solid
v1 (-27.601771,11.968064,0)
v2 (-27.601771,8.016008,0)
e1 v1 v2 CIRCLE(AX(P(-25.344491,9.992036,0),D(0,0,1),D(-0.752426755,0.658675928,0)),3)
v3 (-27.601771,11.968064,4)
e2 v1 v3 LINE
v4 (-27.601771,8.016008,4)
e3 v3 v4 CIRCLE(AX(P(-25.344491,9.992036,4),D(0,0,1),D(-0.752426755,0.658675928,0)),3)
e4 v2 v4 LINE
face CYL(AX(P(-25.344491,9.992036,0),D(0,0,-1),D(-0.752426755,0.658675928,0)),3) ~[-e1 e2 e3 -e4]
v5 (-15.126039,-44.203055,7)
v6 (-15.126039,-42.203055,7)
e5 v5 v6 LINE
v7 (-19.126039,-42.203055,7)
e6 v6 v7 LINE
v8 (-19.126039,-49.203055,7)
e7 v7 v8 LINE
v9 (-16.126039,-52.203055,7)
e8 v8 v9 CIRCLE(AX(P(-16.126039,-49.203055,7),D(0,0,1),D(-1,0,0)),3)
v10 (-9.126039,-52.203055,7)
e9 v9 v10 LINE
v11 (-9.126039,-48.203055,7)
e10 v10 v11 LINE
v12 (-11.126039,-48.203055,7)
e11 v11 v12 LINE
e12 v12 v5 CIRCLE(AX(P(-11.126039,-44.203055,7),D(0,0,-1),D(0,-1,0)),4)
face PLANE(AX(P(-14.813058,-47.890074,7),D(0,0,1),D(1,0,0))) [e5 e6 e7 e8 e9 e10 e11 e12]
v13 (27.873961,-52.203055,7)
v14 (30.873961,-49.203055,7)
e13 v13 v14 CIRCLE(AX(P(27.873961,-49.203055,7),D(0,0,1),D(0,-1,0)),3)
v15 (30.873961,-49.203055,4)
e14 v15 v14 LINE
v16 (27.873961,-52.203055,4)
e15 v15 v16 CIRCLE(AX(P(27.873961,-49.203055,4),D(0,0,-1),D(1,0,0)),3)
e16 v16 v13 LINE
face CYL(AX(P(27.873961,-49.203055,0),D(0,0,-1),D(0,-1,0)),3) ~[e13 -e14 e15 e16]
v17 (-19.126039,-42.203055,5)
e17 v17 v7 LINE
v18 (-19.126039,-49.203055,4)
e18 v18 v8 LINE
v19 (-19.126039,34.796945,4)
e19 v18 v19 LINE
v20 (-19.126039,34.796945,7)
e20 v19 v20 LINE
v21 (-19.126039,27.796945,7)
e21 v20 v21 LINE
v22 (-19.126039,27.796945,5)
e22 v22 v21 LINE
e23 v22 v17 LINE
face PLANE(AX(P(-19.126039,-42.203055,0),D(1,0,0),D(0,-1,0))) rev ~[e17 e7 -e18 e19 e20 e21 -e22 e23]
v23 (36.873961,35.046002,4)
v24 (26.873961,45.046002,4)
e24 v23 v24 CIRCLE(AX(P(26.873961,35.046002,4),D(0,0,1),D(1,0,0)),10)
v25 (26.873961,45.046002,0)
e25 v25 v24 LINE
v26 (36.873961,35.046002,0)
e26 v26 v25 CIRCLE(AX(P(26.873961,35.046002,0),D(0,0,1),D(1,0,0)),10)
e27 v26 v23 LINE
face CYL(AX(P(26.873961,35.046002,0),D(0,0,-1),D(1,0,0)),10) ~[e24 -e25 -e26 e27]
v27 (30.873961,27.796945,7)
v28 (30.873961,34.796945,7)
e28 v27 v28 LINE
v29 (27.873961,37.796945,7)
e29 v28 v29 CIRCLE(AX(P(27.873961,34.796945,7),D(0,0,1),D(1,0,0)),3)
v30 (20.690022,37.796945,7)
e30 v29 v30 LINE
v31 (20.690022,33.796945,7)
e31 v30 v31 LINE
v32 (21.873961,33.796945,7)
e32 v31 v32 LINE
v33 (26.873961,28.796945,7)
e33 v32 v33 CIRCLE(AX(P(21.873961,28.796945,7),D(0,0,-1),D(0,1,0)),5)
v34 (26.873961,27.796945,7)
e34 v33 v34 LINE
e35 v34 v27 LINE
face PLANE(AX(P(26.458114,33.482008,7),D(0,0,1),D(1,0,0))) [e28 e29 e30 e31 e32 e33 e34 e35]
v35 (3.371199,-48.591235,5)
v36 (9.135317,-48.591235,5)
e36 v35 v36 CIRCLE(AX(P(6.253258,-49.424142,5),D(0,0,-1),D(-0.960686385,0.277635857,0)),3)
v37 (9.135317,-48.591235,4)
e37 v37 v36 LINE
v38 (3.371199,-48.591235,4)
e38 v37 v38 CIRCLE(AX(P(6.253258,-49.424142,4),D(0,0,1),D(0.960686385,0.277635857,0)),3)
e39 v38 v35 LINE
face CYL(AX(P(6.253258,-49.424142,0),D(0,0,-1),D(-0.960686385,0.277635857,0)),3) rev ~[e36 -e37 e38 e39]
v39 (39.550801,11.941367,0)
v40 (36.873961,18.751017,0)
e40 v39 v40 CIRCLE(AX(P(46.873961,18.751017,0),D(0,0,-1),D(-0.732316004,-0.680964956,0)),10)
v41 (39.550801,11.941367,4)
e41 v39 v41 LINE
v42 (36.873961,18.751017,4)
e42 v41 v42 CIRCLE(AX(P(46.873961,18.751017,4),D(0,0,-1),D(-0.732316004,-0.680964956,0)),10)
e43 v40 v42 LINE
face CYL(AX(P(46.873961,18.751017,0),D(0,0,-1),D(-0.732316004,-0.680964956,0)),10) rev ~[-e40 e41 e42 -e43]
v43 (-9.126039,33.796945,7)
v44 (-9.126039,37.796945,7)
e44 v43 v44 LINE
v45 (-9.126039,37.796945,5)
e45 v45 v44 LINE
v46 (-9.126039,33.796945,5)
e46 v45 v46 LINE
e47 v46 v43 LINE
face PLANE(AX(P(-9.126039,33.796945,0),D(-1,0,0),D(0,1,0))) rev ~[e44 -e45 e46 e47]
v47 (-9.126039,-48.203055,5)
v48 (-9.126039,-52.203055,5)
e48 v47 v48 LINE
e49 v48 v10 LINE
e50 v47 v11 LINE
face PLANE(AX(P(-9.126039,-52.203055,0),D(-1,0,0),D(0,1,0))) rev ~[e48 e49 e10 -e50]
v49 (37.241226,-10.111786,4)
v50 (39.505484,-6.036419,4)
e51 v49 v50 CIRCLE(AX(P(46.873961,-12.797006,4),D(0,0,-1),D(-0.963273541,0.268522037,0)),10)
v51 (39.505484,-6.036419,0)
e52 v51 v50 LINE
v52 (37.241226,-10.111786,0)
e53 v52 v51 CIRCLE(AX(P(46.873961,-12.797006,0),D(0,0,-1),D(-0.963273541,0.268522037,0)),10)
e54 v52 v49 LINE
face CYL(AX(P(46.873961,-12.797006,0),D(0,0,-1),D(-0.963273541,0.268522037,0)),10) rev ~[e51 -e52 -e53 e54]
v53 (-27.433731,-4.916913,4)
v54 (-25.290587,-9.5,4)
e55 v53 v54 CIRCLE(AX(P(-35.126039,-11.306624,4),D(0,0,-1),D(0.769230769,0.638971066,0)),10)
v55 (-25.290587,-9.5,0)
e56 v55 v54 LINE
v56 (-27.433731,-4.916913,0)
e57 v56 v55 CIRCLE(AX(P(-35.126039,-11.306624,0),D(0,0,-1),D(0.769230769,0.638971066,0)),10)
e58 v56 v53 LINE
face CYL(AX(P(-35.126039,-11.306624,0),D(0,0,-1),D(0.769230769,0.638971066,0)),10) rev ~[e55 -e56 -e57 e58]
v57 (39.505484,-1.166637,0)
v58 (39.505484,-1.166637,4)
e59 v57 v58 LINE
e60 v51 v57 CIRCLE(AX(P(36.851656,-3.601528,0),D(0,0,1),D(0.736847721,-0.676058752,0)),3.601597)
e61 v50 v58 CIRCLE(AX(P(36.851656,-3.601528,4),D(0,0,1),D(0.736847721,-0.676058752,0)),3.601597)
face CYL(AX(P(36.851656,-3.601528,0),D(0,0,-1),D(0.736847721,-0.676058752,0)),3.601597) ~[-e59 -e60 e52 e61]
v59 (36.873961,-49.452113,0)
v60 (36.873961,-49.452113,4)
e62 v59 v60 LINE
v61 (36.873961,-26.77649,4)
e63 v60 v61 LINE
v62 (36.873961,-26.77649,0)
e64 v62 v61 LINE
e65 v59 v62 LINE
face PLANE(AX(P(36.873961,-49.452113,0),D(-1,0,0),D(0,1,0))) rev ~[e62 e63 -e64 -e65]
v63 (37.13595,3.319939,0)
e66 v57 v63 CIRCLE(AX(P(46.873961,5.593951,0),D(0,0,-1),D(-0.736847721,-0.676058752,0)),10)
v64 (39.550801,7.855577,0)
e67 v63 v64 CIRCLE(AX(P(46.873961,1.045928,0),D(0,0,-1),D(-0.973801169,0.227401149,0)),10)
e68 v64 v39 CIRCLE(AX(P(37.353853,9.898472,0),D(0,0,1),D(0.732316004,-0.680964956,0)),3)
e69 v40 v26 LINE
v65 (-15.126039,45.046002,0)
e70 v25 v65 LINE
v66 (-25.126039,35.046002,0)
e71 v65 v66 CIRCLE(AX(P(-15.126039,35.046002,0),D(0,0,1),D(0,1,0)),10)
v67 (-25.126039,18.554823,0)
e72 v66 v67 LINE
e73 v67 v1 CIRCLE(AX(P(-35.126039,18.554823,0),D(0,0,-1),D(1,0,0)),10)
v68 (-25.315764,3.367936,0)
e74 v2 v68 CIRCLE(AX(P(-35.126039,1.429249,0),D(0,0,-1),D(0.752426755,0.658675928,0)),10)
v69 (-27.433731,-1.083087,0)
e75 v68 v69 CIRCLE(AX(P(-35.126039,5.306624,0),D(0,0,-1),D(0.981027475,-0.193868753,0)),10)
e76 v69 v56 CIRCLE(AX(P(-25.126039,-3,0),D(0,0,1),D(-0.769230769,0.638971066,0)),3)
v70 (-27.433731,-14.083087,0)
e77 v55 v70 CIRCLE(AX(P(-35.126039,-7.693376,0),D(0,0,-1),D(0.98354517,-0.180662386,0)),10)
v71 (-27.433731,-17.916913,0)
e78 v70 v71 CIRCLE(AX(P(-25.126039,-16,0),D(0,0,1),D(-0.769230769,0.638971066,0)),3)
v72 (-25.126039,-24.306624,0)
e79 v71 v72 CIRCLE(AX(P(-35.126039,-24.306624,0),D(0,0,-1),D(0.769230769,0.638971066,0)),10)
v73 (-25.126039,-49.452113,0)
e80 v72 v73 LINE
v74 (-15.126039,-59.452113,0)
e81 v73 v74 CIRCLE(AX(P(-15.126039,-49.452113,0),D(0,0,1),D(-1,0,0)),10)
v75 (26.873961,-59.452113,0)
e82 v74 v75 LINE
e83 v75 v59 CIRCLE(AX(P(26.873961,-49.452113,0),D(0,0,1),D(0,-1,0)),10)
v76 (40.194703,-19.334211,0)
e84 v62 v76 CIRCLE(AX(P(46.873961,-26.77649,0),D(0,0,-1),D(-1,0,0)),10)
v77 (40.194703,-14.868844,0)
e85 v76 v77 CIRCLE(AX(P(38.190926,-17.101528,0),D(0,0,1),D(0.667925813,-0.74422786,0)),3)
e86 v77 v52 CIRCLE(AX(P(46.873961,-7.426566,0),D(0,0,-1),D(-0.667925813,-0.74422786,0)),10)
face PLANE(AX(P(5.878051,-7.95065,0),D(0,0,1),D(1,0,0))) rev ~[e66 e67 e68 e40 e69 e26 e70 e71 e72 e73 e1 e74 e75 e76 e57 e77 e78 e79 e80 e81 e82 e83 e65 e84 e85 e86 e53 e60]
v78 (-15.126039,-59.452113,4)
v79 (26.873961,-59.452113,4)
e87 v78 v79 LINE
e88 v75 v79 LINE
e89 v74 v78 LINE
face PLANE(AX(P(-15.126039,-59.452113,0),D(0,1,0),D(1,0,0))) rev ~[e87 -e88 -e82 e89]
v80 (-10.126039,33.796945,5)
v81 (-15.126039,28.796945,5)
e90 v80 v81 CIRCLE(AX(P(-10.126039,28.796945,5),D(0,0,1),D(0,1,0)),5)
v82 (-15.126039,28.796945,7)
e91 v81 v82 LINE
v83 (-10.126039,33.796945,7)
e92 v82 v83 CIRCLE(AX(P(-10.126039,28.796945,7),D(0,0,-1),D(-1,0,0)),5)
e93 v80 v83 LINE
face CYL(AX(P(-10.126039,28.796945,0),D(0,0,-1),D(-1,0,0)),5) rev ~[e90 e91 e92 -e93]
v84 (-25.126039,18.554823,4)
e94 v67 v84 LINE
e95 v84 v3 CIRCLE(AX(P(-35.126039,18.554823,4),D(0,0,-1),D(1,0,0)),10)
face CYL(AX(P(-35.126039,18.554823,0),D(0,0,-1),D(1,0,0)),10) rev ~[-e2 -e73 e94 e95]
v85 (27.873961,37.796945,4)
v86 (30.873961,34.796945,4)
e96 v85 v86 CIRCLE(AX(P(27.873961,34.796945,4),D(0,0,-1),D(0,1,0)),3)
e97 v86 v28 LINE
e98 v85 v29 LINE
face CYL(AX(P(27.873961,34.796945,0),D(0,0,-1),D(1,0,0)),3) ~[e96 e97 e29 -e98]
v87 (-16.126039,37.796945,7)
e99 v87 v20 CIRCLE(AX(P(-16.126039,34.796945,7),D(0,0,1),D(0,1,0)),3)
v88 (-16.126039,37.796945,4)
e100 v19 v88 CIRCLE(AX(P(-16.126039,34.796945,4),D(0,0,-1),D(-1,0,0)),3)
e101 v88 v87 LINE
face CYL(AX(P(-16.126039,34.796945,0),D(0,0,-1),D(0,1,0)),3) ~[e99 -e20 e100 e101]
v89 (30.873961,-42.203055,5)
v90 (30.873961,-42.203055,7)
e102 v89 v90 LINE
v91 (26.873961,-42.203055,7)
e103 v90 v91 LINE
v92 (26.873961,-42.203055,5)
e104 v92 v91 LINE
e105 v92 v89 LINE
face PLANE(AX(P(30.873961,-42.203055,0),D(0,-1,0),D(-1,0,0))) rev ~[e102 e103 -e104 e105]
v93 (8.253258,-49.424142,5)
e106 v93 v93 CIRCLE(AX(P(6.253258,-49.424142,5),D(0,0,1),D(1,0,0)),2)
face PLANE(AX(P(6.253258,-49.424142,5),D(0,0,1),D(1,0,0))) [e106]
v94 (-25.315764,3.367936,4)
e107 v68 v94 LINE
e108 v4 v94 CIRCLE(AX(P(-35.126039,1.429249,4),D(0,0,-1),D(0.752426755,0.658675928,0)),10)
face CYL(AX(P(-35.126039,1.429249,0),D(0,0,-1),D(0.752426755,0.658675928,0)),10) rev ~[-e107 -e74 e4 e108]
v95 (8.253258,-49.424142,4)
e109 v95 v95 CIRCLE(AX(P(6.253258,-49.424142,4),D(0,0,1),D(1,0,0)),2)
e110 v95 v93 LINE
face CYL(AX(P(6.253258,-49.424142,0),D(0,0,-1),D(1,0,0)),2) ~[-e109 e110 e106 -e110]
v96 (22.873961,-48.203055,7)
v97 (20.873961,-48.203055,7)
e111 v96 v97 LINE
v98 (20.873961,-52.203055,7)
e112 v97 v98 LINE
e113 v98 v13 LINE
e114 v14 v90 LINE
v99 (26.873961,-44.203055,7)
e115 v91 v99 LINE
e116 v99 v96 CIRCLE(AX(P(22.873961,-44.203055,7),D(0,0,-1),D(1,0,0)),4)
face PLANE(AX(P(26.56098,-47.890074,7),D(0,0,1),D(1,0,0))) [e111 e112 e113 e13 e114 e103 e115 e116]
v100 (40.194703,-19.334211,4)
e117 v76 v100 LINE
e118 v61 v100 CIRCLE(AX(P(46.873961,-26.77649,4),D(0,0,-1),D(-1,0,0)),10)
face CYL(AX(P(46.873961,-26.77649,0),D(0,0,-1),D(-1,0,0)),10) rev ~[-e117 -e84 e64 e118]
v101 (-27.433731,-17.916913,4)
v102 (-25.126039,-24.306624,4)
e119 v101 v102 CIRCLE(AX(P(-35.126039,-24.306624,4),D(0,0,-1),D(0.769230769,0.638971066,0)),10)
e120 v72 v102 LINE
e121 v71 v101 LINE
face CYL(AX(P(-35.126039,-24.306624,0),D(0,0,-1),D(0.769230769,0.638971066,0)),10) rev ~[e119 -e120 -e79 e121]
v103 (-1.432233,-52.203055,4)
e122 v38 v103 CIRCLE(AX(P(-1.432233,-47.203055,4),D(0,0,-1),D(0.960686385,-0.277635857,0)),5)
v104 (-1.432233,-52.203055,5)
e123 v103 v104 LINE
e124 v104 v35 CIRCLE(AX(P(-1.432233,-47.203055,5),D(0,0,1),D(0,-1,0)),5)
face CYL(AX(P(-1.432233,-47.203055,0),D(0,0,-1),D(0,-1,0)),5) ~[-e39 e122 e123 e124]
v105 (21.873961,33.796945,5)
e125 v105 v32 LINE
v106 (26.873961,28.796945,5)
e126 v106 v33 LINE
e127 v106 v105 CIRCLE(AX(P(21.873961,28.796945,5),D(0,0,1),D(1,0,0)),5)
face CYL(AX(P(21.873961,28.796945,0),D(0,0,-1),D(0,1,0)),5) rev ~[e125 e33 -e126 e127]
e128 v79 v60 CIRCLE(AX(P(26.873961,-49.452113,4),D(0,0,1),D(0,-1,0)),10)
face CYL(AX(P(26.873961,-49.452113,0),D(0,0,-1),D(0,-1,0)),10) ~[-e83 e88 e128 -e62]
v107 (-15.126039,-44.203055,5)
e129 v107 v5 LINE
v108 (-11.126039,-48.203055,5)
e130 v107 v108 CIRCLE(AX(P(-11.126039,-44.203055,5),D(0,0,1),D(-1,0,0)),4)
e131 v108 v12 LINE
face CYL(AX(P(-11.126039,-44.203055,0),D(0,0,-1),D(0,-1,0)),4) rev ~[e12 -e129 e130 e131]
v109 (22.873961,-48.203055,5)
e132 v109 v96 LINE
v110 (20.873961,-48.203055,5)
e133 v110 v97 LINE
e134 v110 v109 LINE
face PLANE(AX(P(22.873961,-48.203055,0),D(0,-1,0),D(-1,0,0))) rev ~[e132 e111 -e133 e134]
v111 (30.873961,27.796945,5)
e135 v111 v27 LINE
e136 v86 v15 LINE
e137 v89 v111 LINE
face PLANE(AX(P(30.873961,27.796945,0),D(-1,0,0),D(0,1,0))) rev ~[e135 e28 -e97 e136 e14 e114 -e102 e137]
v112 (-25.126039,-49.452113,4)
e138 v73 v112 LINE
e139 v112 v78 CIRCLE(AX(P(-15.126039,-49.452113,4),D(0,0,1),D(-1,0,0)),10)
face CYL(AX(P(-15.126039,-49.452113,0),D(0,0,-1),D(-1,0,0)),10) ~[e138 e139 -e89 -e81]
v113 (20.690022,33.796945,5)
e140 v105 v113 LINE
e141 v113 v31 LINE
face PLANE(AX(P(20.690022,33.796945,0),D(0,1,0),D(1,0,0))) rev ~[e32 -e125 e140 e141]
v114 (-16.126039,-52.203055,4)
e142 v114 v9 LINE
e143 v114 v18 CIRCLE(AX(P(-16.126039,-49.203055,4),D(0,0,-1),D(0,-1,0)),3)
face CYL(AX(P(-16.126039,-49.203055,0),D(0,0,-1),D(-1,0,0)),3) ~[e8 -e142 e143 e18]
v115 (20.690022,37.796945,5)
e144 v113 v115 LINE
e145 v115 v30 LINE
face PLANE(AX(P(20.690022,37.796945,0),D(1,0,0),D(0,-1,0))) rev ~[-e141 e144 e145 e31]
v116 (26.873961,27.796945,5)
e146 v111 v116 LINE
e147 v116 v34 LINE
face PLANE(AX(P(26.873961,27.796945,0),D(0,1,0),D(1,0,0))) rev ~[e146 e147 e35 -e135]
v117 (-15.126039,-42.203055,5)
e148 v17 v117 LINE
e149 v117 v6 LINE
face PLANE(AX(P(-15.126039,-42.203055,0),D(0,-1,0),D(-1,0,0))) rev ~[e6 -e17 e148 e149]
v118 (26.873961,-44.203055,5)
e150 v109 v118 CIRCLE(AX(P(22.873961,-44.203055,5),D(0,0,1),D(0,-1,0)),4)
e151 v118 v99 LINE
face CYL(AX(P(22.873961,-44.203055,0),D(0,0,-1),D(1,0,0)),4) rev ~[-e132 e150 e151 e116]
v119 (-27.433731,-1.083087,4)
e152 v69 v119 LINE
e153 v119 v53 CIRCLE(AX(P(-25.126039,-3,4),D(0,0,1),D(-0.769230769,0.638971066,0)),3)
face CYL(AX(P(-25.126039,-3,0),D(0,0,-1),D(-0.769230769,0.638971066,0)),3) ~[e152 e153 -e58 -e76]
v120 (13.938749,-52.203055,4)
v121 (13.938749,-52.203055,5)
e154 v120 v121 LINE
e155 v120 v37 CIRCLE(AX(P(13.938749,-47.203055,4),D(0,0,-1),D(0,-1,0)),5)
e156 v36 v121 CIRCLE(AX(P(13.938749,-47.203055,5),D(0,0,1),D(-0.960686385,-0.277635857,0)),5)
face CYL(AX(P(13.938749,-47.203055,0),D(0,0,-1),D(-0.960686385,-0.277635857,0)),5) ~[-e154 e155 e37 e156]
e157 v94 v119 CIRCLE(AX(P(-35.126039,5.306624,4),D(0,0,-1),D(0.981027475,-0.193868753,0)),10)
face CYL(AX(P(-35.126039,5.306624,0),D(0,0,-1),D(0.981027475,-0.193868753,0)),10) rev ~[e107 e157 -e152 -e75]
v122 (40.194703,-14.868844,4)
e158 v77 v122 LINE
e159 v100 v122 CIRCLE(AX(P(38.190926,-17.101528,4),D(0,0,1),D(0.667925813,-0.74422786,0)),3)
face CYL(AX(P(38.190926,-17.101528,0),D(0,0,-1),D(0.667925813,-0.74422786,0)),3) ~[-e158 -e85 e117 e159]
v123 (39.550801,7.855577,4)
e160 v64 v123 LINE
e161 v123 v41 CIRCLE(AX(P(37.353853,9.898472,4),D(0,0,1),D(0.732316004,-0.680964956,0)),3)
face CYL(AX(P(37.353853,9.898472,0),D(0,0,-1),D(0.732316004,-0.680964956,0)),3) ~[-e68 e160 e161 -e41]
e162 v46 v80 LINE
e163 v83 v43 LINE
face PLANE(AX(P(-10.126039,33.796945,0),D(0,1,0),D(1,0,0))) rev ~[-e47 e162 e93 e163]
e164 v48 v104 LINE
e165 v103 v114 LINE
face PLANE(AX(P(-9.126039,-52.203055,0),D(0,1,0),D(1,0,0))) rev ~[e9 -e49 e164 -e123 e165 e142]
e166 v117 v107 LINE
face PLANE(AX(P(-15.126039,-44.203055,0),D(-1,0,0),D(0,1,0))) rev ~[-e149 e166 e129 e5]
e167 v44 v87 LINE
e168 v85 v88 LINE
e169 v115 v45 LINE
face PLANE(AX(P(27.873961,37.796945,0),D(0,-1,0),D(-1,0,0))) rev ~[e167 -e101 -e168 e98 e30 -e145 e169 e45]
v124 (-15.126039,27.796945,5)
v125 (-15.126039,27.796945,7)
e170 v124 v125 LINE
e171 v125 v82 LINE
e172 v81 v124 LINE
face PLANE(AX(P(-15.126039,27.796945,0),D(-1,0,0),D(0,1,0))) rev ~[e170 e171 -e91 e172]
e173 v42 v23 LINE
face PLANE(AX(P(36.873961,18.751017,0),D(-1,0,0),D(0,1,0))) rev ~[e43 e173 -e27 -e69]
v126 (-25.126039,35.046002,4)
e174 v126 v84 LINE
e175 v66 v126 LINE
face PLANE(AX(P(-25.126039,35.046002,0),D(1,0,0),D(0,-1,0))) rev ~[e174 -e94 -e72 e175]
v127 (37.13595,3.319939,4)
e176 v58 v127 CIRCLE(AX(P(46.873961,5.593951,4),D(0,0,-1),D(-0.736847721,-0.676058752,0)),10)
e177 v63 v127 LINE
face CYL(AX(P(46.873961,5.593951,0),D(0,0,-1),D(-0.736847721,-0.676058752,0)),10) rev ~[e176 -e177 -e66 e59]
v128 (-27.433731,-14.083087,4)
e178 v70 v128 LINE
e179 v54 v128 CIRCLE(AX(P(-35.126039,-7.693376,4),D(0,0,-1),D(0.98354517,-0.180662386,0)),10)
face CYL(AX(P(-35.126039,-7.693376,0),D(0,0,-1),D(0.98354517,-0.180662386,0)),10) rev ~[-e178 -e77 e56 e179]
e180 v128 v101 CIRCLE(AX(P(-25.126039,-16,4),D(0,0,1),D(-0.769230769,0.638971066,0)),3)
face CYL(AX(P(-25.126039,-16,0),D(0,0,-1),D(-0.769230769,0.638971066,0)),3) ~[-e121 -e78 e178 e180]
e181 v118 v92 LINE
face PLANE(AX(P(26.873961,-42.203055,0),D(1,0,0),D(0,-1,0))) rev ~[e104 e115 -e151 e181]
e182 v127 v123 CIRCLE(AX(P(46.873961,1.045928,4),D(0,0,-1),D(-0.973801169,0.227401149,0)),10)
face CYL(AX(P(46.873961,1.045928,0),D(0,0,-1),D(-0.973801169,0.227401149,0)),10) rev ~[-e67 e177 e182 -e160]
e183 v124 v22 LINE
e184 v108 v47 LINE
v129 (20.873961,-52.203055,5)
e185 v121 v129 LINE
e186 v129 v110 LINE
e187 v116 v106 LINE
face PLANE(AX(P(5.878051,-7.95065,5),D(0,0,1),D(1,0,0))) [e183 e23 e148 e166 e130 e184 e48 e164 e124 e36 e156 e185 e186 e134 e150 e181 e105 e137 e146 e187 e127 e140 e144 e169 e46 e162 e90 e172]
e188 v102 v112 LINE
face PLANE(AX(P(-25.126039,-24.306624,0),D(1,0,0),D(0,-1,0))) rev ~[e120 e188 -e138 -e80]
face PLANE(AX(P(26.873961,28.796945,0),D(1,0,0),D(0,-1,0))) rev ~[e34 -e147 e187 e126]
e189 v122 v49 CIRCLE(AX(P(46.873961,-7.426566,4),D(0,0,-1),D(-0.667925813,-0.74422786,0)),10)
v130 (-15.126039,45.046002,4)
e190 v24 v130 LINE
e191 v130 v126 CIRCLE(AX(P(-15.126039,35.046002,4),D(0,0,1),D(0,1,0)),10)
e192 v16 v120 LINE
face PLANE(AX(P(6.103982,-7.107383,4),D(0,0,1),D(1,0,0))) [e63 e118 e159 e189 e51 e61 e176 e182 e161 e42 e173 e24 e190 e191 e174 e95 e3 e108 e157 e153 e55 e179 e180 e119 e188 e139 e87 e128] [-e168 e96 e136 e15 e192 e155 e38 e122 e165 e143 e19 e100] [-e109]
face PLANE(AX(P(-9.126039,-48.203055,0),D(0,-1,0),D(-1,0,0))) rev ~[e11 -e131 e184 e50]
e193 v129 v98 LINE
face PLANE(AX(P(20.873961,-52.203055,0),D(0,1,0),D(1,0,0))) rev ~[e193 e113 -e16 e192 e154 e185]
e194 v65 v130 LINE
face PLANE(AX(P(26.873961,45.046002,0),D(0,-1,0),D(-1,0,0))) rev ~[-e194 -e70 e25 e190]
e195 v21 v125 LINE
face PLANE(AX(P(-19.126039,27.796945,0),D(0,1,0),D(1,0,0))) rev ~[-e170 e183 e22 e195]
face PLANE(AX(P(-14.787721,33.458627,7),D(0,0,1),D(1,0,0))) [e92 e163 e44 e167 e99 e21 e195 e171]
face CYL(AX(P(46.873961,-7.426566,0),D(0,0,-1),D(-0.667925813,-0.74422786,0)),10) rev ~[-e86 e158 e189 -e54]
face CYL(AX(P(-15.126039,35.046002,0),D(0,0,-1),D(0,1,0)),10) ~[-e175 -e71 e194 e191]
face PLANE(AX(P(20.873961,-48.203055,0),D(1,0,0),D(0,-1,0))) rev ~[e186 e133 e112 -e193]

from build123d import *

# Parameters (mm, degrees)
F0_R     = 2
F1_DEPTH = 4
F2_DEPTH = 5
F3_DEPTH = 7
F4_DEPTH = 5


with BuildPart() as f1:
    # F0 (on Top) → F1 (new body)
    with BuildSketch(Plane.XY):
        with BuildLine():
            Line((-15.1260387235, -59.4521127641), (26.8739612765, -59.4521127641))
            ThreePointArc((26.8739612765, -59.4521127641), (33.9450290884, -56.523180576), (36.8739612765, -49.4521127641))
            Line((36.8739612765, -49.4521127641), (36.8739612765, -26.7764899186))
            ThreePointArc((36.8739612765, -26.7764899186), (37.7418043208, -22.7017249762), (40.1947031436, -19.3342113163))
            ThreePointArc((40.1947031436, -19.3342113163), (41.1909257037, -17.1015277356), (40.1947031436, -14.8688441549))
            ThreePointArc((40.1947031436, -14.8688441549), (38.3782162175, -12.7012518837), (37.2412258633, -10.1117859269))
            ThreePointArc((37.2412258633, -10.1117859269), (38.1325390814, -7.9403059804), (39.5054840686, -6.0364187796))
            ThreePointArc((39.5054840686, -6.0364187796), (40.4532524775, -3.6015277356), (39.5054840686, -1.1666366915))
            ThreePointArc((39.5054840686, -1.1666366915), (38.0314315628, 0.9238685756), (37.135949584, 3.3199393357))
            ThreePointArc((37.135949584, 3.3199393357), (38.0470763022, 5.745513105), (39.5508012398, 7.8555773976))
            ThreePointArc((39.5508012398, 7.8555773976), (40.3538532288, 9.8984722644), (39.5508012398, 11.9413671312))
            ThreePointArc((39.5508012398, 11.9413671312), (37.5672002834, 15.092574421), (36.8739612765, 18.7510166874))
            Line((36.8739612765, 18.7510166874), (36.8739612765, 35.0460018218))
            ThreePointArc((36.8739612765, 35.0460018218), (33.9450290884, 42.1170696336), (26.8739612765, 45.0460018218))
            Line((26.8739612765, 45.0460018218), (-15.1260387235, 45.0460018218))
            ThreePointArc((-15.1260387235, 45.0460018218), (-22.1971065353, 42.1170696336), (-25.1260387235, 35.0460018218))
            Line((-25.1260387235, 35.0460018218), (-25.1260387235, 19.9840717389))
            Line((-25.1260387235, 19.9840717389), (-25.1260387235, 18.5548229328))
            ThreePointArc((-25.1260387235, 18.5548229328), (-25.7654117274, 15.0364906233), (-27.6017711715, 11.9680636533))
            ThreePointArc((-27.6017711715, 11.9680636533), (-28.3444909059, 9.9920358694), (-27.6017711715, 8.0160080856))
            ThreePointArc((-27.6017711715, 8.0160080856), (-26.1525927882, 5.8425546017), (-25.3157639737, 3.3679363345))
            ThreePointArc((-25.3157639737, 3.3679363345), (-26.0961993133, 1.0098808841), (-27.4337310312, -1.0830868009))
            ThreePointArc((-27.4337310312, -1.0830868009), (-28.1260387235, -3), (-27.4337310312, -4.9169131991))
            ThreePointArc((-27.4337310312, -4.9169131991), (-26.0675201626, -7.0706775127), (-25.2905870197, -9.5))
            ThreePointArc((-25.2905870197, -9.5), (-26.0675201626, -11.9293224873), (-27.4337310312, -14.0830868009))
            ThreePointArc((-27.4337310312, -14.0830868009), (-28.1260387235, -16), (-27.4337310312, -17.9169131991))
            ThreePointArc((-27.4337310312, -17.9169131991), (-25.7206392922, -20.9097927605), (-25.1260387235, -24.3066238629))
            Line((-25.1260387235, -24.3066238629), (-25.1260387235, -49.4521127641))
            ThreePointArc((-25.1260387235, -49.4521127641), (-22.1971065353, -56.523180576), (-15.1260387235, -59.4521127641))
        make_face()
        with Locations((6.253258194, -49.4241423296)):
            Circle(F0_R, mode=Mode.SUBTRACT)
        with BuildLine():
            Line((-16.1260387235, 37.7969445288), (-9.1260387235, 37.7969445288))
            Line((-9.1260387235, 37.7969445288), (20.6900215282, 37.7969445288))
            Line((20.6900215282, 37.7969445288), (27.8739612765, 37.7969445288))
            ThreePointArc((27.8739612765, 37.7969445288), (29.9952816201, 36.9182648724), (30.8739612765, 34.7969445288))
            Line((30.8739612765, 34.7969445288), (30.8739612765, 27.7969445288))
            Line((30.8739612765, 27.7969445288), (30.8739612765, -42.2030554712))
            Line((30.8739612765, -42.2030554712), (30.8739612765, -49.2030554712))
            ThreePointArc((30.8739612765, -49.2030554712), (29.9952816201, -51.3243758147), (27.8739612765, -52.2030554712))
            Line((27.8739612765, -52.2030554712), (20.8739612765, -52.2030554712))
            Line((20.8739612765, -52.2030554712), (13.9387492757, -52.2030554712))
            ThreePointArc((13.9387492757, -52.2030554712), (10.9338280149, -51.199359791), (9.1353173496, -48.5912347577))
            ThreePointArc((9.1353173496, -48.5912347577), (6.253258194, -46.4241423296), (3.3711990383, -48.5912347577))
            ThreePointArc((3.3711990383, -48.5912347577), (1.572688373, -51.199359791), (-1.4322328878, -52.2030554712))
            Line((-1.4322328878, -52.2030554712), (-9.1260387235, -52.2030554712))
            Line((-9.1260387235, -52.2030554712), (-16.1260387235, -52.2030554712))
            ThreePointArc((-16.1260387235, -52.2030554712), (-18.247359067, -51.3243758147), (-19.1260387235, -49.2030554712))
            Line((-19.1260387235, -49.2030554712), (-19.1260387235, -42.2030554712))
            Line((-19.1260387235, -42.2030554712), (-19.1260387235, 27.7969445288))
            Line((-19.1260387235, 27.7969445288), (-19.1260387235, 34.7969445288))
            ThreePointArc((-19.1260387235, 34.7969445288), (-18.247359067, 36.9182648724), (-16.1260387235, 37.7969445288))
        make_face(mode=Mode.SUBTRACT)
        with BuildLine():
            ThreePointArc((36.8739612765, -7.4265655526), (36.9662028486, -8.7816754868), (37.2412258633, -10.1117859269))
            ThreePointArc((37.2412258633, -10.1117859269), (36.9662028486, -11.441896367), (36.8739612765, -12.7970063012))
            Line((36.8739612765, -12.7970063012), (36.8739612765, -7.4265655526))
        make_face(mode=Mode.SUBTRACT)
        with BuildLine():
            ThreePointArc((36.8739612765, -12.7970063012), (36.9662028486, -11.441896367), (37.2412258633, -10.1117859269))
            ThreePointArc((37.2412258633, -10.1117859269), (36.9662028486, -8.7816754868), (36.8739612765, -7.4265655526))
            Line((36.8739612765, -7.4265655526), (36.8739612765, -12.7970063012))
        make_face()
    extrude(amount=F1_DEPTH)

    # F0 (on Top) → F2 (join)
    with BuildSketch(Plane.XY):
        with BuildLine():
            Line((20.6900215282, 37.7969445288), (-9.1260387235, 37.7969445288))
            Line((-9.1260387235, 37.7969445288), (-9.1260387235, 33.7969445288))
            Line((-9.1260387235, 33.7969445288), (-10.1260387235, 33.7969445288))
            ThreePointArc((-10.1260387235, 33.7969445288), (-13.6615726294, 32.3324784348), (-15.1260387235, 28.7969445288))
            Line((-15.1260387235, 28.7969445288), (-15.1260387235, 27.7969445288))
            Line((-15.1260387235, 27.7969445288), (-19.1260387235, 27.7969445288))
            Line((-19.1260387235, 27.7969445288), (-19.1260387235, -42.2030554712))
            Line((-19.1260387235, -42.2030554712), (-15.1260387235, -42.2030554712))
            Line((-15.1260387235, -42.2030554712), (-15.1260387235, -44.2030554712))
            ThreePointArc((-15.1260387235, -44.2030554712), (-13.9544658482, -47.0314825959), (-11.1260387235, -48.2030554712))
            Line((-11.1260387235, -48.2030554712), (-9.1260387235, -48.2030554712))
            Line((-9.1260387235, -48.2030554712), (-9.1260387235, -52.2030554712))
            Line((-9.1260387235, -52.2030554712), (-1.4322328878, -52.2030554712))
            ThreePointArc((-1.4322328878, -52.2030554712), (1.572688373, -51.199359791), (3.3711990383, -48.5912347577))
            ThreePointArc((3.3711990383, -48.5912347577), (6.253258194, -46.4241423296), (9.1353173496, -48.5912347577))
            ThreePointArc((9.1353173496, -48.5912347577), (10.9338280149, -51.199359791), (13.9387492757, -52.2030554712))
            Line((13.9387492757, -52.2030554712), (20.8739612765, -52.2030554712))
            Line((20.8739612765, -52.2030554712), (20.8739612765, -48.2030554712))
            Line((20.8739612765, -48.2030554712), (22.8739612765, -48.2030554712))
            ThreePointArc((22.8739612765, -48.2030554712), (25.7023884013, -47.0314825959), (26.8739612765, -44.2030554712))
            Line((26.8739612765, -44.2030554712), (26.8739612765, -42.2030554712))
            Line((26.8739612765, -42.2030554712), (30.8739612765, -42.2030554712))
            Line((30.8739612765, -42.2030554712), (30.8739612765, 27.7969445288))
            Line((30.8739612765, 27.7969445288), (26.8739612765, 27.7969445288))
            Line((26.8739612765, 27.7969445288), (26.8739612765, 28.7969445288))
            ThreePointArc((26.8739612765, 28.7969445288), (25.4094951825, 32.3324784348), (21.8739612765, 33.7969445288))
            Line((21.8739612765, 33.7969445288), (20.6900215282, 33.7969445288))
            Line((20.6900215282, 33.7969445288), (20.6900215282, 37.7969445288))
        make_face()
    extrude(amount=F2_DEPTH)

    # F0 (on Top) → F3 (join)
    with BuildSketch(Plane.XY):
        with BuildLine():
            Line((27.8739612765, 37.7969445288), (20.6900215282, 37.7969445288))
            Line((20.6900215282, 37.7969445288), (20.6900215282, 33.7969445288))
            Line((20.6900215282, 33.7969445288), (21.8739612765, 33.7969445288))
            ThreePointArc((21.8739612765, 33.7969445288), (25.4094951825, 32.3324784348), (26.8739612765, 28.7969445288))
            Line((26.8739612765, 28.7969445288), (26.8739612765, 27.7969445288))
            Line((26.8739612765, 27.7969445288), (30.8739612765, 27.7969445288))
            Line((30.8739612765, 27.7969445288), (30.8739612765, 34.7969445288))
            ThreePointArc((30.8739612765, 34.7969445288), (29.9952816201, 36.9182648724), (27.8739612765, 37.7969445288))
        make_face()
        with BuildLine():
            Line((-9.1260387235, 33.7969445288), (-9.1260387235, 37.7969445288))
            Line((-9.1260387235, 37.7969445288), (-16.1260387235, 37.7969445288))
            ThreePointArc((-16.1260387235, 37.7969445288), (-18.247359067, 36.9182648724), (-19.1260387235, 34.7969445288))
            Line((-19.1260387235, 34.7969445288), (-19.1260387235, 27.7969445288))
            Line((-19.1260387235, 27.7969445288), (-15.1260387235, 27.7969445288))
            Line((-15.1260387235, 27.7969445288), (-15.1260387235, 28.7969445288))
            ThreePointArc((-15.1260387235, 28.7969445288), (-13.6615726294, 32.3324784348), (-10.1260387235, 33.7969445288))
            Line((-10.1260387235, 33.7969445288), (-9.1260387235, 33.7969445288))
        make_face()
        with BuildLine():
            Line((30.8739612765, -49.2030554712), (30.8739612765, -42.2030554712))
            Line((30.8739612765, -42.2030554712), (26.8739612765, -42.2030554712))
            Line((26.8739612765, -42.2030554712), (26.8739612765, -44.2030554712))
            ThreePointArc((26.8739612765, -44.2030554712), (25.7023884013, -47.0314825959), (22.8739612765, -48.2030554712))
            Line((22.8739612765, -48.2030554712), (20.8739612765, -48.2030554712))
            Line((20.8739612765, -48.2030554712), (20.8739612765, -52.2030554712))
            Line((20.8739612765, -52.2030554712), (27.8739612765, -52.2030554712))
            ThreePointArc((27.8739612765, -52.2030554712), (29.9952816201, -51.3243758147), (30.8739612765, -49.2030554712))
        make_face()
        with BuildLine():
            Line((-15.1260387235, -42.2030554712), (-19.1260387235, -42.2030554712))
            Line((-19.1260387235, -42.2030554712), (-19.1260387235, -49.2030554712))
            ThreePointArc((-19.1260387235, -49.2030554712), (-18.247359067, -51.3243758147), (-16.1260387235, -52.2030554712))
            Line((-16.1260387235, -52.2030554712), (-9.1260387235, -52.2030554712))
            Line((-9.1260387235, -52.2030554712), (-9.1260387235, -48.2030554712))
            Line((-9.1260387235, -48.2030554712), (-11.1260387235, -48.2030554712))
            ThreePointArc((-11.1260387235, -48.2030554712), (-13.9544658482, -47.0314825959), (-15.1260387235, -44.2030554712))
            Line((-15.1260387235, -44.2030554712), (-15.1260387235, -42.2030554712))
        make_face()
    extrude(amount=F3_DEPTH)

    # F0 (on Top) → F4 (join)
    with BuildSketch(Plane.XY):
        with Locations((6.253258194, -49.4241423296)):
            Circle(F0_R)
    extrude(amount=F4_DEPTH)


solid = f1.part
